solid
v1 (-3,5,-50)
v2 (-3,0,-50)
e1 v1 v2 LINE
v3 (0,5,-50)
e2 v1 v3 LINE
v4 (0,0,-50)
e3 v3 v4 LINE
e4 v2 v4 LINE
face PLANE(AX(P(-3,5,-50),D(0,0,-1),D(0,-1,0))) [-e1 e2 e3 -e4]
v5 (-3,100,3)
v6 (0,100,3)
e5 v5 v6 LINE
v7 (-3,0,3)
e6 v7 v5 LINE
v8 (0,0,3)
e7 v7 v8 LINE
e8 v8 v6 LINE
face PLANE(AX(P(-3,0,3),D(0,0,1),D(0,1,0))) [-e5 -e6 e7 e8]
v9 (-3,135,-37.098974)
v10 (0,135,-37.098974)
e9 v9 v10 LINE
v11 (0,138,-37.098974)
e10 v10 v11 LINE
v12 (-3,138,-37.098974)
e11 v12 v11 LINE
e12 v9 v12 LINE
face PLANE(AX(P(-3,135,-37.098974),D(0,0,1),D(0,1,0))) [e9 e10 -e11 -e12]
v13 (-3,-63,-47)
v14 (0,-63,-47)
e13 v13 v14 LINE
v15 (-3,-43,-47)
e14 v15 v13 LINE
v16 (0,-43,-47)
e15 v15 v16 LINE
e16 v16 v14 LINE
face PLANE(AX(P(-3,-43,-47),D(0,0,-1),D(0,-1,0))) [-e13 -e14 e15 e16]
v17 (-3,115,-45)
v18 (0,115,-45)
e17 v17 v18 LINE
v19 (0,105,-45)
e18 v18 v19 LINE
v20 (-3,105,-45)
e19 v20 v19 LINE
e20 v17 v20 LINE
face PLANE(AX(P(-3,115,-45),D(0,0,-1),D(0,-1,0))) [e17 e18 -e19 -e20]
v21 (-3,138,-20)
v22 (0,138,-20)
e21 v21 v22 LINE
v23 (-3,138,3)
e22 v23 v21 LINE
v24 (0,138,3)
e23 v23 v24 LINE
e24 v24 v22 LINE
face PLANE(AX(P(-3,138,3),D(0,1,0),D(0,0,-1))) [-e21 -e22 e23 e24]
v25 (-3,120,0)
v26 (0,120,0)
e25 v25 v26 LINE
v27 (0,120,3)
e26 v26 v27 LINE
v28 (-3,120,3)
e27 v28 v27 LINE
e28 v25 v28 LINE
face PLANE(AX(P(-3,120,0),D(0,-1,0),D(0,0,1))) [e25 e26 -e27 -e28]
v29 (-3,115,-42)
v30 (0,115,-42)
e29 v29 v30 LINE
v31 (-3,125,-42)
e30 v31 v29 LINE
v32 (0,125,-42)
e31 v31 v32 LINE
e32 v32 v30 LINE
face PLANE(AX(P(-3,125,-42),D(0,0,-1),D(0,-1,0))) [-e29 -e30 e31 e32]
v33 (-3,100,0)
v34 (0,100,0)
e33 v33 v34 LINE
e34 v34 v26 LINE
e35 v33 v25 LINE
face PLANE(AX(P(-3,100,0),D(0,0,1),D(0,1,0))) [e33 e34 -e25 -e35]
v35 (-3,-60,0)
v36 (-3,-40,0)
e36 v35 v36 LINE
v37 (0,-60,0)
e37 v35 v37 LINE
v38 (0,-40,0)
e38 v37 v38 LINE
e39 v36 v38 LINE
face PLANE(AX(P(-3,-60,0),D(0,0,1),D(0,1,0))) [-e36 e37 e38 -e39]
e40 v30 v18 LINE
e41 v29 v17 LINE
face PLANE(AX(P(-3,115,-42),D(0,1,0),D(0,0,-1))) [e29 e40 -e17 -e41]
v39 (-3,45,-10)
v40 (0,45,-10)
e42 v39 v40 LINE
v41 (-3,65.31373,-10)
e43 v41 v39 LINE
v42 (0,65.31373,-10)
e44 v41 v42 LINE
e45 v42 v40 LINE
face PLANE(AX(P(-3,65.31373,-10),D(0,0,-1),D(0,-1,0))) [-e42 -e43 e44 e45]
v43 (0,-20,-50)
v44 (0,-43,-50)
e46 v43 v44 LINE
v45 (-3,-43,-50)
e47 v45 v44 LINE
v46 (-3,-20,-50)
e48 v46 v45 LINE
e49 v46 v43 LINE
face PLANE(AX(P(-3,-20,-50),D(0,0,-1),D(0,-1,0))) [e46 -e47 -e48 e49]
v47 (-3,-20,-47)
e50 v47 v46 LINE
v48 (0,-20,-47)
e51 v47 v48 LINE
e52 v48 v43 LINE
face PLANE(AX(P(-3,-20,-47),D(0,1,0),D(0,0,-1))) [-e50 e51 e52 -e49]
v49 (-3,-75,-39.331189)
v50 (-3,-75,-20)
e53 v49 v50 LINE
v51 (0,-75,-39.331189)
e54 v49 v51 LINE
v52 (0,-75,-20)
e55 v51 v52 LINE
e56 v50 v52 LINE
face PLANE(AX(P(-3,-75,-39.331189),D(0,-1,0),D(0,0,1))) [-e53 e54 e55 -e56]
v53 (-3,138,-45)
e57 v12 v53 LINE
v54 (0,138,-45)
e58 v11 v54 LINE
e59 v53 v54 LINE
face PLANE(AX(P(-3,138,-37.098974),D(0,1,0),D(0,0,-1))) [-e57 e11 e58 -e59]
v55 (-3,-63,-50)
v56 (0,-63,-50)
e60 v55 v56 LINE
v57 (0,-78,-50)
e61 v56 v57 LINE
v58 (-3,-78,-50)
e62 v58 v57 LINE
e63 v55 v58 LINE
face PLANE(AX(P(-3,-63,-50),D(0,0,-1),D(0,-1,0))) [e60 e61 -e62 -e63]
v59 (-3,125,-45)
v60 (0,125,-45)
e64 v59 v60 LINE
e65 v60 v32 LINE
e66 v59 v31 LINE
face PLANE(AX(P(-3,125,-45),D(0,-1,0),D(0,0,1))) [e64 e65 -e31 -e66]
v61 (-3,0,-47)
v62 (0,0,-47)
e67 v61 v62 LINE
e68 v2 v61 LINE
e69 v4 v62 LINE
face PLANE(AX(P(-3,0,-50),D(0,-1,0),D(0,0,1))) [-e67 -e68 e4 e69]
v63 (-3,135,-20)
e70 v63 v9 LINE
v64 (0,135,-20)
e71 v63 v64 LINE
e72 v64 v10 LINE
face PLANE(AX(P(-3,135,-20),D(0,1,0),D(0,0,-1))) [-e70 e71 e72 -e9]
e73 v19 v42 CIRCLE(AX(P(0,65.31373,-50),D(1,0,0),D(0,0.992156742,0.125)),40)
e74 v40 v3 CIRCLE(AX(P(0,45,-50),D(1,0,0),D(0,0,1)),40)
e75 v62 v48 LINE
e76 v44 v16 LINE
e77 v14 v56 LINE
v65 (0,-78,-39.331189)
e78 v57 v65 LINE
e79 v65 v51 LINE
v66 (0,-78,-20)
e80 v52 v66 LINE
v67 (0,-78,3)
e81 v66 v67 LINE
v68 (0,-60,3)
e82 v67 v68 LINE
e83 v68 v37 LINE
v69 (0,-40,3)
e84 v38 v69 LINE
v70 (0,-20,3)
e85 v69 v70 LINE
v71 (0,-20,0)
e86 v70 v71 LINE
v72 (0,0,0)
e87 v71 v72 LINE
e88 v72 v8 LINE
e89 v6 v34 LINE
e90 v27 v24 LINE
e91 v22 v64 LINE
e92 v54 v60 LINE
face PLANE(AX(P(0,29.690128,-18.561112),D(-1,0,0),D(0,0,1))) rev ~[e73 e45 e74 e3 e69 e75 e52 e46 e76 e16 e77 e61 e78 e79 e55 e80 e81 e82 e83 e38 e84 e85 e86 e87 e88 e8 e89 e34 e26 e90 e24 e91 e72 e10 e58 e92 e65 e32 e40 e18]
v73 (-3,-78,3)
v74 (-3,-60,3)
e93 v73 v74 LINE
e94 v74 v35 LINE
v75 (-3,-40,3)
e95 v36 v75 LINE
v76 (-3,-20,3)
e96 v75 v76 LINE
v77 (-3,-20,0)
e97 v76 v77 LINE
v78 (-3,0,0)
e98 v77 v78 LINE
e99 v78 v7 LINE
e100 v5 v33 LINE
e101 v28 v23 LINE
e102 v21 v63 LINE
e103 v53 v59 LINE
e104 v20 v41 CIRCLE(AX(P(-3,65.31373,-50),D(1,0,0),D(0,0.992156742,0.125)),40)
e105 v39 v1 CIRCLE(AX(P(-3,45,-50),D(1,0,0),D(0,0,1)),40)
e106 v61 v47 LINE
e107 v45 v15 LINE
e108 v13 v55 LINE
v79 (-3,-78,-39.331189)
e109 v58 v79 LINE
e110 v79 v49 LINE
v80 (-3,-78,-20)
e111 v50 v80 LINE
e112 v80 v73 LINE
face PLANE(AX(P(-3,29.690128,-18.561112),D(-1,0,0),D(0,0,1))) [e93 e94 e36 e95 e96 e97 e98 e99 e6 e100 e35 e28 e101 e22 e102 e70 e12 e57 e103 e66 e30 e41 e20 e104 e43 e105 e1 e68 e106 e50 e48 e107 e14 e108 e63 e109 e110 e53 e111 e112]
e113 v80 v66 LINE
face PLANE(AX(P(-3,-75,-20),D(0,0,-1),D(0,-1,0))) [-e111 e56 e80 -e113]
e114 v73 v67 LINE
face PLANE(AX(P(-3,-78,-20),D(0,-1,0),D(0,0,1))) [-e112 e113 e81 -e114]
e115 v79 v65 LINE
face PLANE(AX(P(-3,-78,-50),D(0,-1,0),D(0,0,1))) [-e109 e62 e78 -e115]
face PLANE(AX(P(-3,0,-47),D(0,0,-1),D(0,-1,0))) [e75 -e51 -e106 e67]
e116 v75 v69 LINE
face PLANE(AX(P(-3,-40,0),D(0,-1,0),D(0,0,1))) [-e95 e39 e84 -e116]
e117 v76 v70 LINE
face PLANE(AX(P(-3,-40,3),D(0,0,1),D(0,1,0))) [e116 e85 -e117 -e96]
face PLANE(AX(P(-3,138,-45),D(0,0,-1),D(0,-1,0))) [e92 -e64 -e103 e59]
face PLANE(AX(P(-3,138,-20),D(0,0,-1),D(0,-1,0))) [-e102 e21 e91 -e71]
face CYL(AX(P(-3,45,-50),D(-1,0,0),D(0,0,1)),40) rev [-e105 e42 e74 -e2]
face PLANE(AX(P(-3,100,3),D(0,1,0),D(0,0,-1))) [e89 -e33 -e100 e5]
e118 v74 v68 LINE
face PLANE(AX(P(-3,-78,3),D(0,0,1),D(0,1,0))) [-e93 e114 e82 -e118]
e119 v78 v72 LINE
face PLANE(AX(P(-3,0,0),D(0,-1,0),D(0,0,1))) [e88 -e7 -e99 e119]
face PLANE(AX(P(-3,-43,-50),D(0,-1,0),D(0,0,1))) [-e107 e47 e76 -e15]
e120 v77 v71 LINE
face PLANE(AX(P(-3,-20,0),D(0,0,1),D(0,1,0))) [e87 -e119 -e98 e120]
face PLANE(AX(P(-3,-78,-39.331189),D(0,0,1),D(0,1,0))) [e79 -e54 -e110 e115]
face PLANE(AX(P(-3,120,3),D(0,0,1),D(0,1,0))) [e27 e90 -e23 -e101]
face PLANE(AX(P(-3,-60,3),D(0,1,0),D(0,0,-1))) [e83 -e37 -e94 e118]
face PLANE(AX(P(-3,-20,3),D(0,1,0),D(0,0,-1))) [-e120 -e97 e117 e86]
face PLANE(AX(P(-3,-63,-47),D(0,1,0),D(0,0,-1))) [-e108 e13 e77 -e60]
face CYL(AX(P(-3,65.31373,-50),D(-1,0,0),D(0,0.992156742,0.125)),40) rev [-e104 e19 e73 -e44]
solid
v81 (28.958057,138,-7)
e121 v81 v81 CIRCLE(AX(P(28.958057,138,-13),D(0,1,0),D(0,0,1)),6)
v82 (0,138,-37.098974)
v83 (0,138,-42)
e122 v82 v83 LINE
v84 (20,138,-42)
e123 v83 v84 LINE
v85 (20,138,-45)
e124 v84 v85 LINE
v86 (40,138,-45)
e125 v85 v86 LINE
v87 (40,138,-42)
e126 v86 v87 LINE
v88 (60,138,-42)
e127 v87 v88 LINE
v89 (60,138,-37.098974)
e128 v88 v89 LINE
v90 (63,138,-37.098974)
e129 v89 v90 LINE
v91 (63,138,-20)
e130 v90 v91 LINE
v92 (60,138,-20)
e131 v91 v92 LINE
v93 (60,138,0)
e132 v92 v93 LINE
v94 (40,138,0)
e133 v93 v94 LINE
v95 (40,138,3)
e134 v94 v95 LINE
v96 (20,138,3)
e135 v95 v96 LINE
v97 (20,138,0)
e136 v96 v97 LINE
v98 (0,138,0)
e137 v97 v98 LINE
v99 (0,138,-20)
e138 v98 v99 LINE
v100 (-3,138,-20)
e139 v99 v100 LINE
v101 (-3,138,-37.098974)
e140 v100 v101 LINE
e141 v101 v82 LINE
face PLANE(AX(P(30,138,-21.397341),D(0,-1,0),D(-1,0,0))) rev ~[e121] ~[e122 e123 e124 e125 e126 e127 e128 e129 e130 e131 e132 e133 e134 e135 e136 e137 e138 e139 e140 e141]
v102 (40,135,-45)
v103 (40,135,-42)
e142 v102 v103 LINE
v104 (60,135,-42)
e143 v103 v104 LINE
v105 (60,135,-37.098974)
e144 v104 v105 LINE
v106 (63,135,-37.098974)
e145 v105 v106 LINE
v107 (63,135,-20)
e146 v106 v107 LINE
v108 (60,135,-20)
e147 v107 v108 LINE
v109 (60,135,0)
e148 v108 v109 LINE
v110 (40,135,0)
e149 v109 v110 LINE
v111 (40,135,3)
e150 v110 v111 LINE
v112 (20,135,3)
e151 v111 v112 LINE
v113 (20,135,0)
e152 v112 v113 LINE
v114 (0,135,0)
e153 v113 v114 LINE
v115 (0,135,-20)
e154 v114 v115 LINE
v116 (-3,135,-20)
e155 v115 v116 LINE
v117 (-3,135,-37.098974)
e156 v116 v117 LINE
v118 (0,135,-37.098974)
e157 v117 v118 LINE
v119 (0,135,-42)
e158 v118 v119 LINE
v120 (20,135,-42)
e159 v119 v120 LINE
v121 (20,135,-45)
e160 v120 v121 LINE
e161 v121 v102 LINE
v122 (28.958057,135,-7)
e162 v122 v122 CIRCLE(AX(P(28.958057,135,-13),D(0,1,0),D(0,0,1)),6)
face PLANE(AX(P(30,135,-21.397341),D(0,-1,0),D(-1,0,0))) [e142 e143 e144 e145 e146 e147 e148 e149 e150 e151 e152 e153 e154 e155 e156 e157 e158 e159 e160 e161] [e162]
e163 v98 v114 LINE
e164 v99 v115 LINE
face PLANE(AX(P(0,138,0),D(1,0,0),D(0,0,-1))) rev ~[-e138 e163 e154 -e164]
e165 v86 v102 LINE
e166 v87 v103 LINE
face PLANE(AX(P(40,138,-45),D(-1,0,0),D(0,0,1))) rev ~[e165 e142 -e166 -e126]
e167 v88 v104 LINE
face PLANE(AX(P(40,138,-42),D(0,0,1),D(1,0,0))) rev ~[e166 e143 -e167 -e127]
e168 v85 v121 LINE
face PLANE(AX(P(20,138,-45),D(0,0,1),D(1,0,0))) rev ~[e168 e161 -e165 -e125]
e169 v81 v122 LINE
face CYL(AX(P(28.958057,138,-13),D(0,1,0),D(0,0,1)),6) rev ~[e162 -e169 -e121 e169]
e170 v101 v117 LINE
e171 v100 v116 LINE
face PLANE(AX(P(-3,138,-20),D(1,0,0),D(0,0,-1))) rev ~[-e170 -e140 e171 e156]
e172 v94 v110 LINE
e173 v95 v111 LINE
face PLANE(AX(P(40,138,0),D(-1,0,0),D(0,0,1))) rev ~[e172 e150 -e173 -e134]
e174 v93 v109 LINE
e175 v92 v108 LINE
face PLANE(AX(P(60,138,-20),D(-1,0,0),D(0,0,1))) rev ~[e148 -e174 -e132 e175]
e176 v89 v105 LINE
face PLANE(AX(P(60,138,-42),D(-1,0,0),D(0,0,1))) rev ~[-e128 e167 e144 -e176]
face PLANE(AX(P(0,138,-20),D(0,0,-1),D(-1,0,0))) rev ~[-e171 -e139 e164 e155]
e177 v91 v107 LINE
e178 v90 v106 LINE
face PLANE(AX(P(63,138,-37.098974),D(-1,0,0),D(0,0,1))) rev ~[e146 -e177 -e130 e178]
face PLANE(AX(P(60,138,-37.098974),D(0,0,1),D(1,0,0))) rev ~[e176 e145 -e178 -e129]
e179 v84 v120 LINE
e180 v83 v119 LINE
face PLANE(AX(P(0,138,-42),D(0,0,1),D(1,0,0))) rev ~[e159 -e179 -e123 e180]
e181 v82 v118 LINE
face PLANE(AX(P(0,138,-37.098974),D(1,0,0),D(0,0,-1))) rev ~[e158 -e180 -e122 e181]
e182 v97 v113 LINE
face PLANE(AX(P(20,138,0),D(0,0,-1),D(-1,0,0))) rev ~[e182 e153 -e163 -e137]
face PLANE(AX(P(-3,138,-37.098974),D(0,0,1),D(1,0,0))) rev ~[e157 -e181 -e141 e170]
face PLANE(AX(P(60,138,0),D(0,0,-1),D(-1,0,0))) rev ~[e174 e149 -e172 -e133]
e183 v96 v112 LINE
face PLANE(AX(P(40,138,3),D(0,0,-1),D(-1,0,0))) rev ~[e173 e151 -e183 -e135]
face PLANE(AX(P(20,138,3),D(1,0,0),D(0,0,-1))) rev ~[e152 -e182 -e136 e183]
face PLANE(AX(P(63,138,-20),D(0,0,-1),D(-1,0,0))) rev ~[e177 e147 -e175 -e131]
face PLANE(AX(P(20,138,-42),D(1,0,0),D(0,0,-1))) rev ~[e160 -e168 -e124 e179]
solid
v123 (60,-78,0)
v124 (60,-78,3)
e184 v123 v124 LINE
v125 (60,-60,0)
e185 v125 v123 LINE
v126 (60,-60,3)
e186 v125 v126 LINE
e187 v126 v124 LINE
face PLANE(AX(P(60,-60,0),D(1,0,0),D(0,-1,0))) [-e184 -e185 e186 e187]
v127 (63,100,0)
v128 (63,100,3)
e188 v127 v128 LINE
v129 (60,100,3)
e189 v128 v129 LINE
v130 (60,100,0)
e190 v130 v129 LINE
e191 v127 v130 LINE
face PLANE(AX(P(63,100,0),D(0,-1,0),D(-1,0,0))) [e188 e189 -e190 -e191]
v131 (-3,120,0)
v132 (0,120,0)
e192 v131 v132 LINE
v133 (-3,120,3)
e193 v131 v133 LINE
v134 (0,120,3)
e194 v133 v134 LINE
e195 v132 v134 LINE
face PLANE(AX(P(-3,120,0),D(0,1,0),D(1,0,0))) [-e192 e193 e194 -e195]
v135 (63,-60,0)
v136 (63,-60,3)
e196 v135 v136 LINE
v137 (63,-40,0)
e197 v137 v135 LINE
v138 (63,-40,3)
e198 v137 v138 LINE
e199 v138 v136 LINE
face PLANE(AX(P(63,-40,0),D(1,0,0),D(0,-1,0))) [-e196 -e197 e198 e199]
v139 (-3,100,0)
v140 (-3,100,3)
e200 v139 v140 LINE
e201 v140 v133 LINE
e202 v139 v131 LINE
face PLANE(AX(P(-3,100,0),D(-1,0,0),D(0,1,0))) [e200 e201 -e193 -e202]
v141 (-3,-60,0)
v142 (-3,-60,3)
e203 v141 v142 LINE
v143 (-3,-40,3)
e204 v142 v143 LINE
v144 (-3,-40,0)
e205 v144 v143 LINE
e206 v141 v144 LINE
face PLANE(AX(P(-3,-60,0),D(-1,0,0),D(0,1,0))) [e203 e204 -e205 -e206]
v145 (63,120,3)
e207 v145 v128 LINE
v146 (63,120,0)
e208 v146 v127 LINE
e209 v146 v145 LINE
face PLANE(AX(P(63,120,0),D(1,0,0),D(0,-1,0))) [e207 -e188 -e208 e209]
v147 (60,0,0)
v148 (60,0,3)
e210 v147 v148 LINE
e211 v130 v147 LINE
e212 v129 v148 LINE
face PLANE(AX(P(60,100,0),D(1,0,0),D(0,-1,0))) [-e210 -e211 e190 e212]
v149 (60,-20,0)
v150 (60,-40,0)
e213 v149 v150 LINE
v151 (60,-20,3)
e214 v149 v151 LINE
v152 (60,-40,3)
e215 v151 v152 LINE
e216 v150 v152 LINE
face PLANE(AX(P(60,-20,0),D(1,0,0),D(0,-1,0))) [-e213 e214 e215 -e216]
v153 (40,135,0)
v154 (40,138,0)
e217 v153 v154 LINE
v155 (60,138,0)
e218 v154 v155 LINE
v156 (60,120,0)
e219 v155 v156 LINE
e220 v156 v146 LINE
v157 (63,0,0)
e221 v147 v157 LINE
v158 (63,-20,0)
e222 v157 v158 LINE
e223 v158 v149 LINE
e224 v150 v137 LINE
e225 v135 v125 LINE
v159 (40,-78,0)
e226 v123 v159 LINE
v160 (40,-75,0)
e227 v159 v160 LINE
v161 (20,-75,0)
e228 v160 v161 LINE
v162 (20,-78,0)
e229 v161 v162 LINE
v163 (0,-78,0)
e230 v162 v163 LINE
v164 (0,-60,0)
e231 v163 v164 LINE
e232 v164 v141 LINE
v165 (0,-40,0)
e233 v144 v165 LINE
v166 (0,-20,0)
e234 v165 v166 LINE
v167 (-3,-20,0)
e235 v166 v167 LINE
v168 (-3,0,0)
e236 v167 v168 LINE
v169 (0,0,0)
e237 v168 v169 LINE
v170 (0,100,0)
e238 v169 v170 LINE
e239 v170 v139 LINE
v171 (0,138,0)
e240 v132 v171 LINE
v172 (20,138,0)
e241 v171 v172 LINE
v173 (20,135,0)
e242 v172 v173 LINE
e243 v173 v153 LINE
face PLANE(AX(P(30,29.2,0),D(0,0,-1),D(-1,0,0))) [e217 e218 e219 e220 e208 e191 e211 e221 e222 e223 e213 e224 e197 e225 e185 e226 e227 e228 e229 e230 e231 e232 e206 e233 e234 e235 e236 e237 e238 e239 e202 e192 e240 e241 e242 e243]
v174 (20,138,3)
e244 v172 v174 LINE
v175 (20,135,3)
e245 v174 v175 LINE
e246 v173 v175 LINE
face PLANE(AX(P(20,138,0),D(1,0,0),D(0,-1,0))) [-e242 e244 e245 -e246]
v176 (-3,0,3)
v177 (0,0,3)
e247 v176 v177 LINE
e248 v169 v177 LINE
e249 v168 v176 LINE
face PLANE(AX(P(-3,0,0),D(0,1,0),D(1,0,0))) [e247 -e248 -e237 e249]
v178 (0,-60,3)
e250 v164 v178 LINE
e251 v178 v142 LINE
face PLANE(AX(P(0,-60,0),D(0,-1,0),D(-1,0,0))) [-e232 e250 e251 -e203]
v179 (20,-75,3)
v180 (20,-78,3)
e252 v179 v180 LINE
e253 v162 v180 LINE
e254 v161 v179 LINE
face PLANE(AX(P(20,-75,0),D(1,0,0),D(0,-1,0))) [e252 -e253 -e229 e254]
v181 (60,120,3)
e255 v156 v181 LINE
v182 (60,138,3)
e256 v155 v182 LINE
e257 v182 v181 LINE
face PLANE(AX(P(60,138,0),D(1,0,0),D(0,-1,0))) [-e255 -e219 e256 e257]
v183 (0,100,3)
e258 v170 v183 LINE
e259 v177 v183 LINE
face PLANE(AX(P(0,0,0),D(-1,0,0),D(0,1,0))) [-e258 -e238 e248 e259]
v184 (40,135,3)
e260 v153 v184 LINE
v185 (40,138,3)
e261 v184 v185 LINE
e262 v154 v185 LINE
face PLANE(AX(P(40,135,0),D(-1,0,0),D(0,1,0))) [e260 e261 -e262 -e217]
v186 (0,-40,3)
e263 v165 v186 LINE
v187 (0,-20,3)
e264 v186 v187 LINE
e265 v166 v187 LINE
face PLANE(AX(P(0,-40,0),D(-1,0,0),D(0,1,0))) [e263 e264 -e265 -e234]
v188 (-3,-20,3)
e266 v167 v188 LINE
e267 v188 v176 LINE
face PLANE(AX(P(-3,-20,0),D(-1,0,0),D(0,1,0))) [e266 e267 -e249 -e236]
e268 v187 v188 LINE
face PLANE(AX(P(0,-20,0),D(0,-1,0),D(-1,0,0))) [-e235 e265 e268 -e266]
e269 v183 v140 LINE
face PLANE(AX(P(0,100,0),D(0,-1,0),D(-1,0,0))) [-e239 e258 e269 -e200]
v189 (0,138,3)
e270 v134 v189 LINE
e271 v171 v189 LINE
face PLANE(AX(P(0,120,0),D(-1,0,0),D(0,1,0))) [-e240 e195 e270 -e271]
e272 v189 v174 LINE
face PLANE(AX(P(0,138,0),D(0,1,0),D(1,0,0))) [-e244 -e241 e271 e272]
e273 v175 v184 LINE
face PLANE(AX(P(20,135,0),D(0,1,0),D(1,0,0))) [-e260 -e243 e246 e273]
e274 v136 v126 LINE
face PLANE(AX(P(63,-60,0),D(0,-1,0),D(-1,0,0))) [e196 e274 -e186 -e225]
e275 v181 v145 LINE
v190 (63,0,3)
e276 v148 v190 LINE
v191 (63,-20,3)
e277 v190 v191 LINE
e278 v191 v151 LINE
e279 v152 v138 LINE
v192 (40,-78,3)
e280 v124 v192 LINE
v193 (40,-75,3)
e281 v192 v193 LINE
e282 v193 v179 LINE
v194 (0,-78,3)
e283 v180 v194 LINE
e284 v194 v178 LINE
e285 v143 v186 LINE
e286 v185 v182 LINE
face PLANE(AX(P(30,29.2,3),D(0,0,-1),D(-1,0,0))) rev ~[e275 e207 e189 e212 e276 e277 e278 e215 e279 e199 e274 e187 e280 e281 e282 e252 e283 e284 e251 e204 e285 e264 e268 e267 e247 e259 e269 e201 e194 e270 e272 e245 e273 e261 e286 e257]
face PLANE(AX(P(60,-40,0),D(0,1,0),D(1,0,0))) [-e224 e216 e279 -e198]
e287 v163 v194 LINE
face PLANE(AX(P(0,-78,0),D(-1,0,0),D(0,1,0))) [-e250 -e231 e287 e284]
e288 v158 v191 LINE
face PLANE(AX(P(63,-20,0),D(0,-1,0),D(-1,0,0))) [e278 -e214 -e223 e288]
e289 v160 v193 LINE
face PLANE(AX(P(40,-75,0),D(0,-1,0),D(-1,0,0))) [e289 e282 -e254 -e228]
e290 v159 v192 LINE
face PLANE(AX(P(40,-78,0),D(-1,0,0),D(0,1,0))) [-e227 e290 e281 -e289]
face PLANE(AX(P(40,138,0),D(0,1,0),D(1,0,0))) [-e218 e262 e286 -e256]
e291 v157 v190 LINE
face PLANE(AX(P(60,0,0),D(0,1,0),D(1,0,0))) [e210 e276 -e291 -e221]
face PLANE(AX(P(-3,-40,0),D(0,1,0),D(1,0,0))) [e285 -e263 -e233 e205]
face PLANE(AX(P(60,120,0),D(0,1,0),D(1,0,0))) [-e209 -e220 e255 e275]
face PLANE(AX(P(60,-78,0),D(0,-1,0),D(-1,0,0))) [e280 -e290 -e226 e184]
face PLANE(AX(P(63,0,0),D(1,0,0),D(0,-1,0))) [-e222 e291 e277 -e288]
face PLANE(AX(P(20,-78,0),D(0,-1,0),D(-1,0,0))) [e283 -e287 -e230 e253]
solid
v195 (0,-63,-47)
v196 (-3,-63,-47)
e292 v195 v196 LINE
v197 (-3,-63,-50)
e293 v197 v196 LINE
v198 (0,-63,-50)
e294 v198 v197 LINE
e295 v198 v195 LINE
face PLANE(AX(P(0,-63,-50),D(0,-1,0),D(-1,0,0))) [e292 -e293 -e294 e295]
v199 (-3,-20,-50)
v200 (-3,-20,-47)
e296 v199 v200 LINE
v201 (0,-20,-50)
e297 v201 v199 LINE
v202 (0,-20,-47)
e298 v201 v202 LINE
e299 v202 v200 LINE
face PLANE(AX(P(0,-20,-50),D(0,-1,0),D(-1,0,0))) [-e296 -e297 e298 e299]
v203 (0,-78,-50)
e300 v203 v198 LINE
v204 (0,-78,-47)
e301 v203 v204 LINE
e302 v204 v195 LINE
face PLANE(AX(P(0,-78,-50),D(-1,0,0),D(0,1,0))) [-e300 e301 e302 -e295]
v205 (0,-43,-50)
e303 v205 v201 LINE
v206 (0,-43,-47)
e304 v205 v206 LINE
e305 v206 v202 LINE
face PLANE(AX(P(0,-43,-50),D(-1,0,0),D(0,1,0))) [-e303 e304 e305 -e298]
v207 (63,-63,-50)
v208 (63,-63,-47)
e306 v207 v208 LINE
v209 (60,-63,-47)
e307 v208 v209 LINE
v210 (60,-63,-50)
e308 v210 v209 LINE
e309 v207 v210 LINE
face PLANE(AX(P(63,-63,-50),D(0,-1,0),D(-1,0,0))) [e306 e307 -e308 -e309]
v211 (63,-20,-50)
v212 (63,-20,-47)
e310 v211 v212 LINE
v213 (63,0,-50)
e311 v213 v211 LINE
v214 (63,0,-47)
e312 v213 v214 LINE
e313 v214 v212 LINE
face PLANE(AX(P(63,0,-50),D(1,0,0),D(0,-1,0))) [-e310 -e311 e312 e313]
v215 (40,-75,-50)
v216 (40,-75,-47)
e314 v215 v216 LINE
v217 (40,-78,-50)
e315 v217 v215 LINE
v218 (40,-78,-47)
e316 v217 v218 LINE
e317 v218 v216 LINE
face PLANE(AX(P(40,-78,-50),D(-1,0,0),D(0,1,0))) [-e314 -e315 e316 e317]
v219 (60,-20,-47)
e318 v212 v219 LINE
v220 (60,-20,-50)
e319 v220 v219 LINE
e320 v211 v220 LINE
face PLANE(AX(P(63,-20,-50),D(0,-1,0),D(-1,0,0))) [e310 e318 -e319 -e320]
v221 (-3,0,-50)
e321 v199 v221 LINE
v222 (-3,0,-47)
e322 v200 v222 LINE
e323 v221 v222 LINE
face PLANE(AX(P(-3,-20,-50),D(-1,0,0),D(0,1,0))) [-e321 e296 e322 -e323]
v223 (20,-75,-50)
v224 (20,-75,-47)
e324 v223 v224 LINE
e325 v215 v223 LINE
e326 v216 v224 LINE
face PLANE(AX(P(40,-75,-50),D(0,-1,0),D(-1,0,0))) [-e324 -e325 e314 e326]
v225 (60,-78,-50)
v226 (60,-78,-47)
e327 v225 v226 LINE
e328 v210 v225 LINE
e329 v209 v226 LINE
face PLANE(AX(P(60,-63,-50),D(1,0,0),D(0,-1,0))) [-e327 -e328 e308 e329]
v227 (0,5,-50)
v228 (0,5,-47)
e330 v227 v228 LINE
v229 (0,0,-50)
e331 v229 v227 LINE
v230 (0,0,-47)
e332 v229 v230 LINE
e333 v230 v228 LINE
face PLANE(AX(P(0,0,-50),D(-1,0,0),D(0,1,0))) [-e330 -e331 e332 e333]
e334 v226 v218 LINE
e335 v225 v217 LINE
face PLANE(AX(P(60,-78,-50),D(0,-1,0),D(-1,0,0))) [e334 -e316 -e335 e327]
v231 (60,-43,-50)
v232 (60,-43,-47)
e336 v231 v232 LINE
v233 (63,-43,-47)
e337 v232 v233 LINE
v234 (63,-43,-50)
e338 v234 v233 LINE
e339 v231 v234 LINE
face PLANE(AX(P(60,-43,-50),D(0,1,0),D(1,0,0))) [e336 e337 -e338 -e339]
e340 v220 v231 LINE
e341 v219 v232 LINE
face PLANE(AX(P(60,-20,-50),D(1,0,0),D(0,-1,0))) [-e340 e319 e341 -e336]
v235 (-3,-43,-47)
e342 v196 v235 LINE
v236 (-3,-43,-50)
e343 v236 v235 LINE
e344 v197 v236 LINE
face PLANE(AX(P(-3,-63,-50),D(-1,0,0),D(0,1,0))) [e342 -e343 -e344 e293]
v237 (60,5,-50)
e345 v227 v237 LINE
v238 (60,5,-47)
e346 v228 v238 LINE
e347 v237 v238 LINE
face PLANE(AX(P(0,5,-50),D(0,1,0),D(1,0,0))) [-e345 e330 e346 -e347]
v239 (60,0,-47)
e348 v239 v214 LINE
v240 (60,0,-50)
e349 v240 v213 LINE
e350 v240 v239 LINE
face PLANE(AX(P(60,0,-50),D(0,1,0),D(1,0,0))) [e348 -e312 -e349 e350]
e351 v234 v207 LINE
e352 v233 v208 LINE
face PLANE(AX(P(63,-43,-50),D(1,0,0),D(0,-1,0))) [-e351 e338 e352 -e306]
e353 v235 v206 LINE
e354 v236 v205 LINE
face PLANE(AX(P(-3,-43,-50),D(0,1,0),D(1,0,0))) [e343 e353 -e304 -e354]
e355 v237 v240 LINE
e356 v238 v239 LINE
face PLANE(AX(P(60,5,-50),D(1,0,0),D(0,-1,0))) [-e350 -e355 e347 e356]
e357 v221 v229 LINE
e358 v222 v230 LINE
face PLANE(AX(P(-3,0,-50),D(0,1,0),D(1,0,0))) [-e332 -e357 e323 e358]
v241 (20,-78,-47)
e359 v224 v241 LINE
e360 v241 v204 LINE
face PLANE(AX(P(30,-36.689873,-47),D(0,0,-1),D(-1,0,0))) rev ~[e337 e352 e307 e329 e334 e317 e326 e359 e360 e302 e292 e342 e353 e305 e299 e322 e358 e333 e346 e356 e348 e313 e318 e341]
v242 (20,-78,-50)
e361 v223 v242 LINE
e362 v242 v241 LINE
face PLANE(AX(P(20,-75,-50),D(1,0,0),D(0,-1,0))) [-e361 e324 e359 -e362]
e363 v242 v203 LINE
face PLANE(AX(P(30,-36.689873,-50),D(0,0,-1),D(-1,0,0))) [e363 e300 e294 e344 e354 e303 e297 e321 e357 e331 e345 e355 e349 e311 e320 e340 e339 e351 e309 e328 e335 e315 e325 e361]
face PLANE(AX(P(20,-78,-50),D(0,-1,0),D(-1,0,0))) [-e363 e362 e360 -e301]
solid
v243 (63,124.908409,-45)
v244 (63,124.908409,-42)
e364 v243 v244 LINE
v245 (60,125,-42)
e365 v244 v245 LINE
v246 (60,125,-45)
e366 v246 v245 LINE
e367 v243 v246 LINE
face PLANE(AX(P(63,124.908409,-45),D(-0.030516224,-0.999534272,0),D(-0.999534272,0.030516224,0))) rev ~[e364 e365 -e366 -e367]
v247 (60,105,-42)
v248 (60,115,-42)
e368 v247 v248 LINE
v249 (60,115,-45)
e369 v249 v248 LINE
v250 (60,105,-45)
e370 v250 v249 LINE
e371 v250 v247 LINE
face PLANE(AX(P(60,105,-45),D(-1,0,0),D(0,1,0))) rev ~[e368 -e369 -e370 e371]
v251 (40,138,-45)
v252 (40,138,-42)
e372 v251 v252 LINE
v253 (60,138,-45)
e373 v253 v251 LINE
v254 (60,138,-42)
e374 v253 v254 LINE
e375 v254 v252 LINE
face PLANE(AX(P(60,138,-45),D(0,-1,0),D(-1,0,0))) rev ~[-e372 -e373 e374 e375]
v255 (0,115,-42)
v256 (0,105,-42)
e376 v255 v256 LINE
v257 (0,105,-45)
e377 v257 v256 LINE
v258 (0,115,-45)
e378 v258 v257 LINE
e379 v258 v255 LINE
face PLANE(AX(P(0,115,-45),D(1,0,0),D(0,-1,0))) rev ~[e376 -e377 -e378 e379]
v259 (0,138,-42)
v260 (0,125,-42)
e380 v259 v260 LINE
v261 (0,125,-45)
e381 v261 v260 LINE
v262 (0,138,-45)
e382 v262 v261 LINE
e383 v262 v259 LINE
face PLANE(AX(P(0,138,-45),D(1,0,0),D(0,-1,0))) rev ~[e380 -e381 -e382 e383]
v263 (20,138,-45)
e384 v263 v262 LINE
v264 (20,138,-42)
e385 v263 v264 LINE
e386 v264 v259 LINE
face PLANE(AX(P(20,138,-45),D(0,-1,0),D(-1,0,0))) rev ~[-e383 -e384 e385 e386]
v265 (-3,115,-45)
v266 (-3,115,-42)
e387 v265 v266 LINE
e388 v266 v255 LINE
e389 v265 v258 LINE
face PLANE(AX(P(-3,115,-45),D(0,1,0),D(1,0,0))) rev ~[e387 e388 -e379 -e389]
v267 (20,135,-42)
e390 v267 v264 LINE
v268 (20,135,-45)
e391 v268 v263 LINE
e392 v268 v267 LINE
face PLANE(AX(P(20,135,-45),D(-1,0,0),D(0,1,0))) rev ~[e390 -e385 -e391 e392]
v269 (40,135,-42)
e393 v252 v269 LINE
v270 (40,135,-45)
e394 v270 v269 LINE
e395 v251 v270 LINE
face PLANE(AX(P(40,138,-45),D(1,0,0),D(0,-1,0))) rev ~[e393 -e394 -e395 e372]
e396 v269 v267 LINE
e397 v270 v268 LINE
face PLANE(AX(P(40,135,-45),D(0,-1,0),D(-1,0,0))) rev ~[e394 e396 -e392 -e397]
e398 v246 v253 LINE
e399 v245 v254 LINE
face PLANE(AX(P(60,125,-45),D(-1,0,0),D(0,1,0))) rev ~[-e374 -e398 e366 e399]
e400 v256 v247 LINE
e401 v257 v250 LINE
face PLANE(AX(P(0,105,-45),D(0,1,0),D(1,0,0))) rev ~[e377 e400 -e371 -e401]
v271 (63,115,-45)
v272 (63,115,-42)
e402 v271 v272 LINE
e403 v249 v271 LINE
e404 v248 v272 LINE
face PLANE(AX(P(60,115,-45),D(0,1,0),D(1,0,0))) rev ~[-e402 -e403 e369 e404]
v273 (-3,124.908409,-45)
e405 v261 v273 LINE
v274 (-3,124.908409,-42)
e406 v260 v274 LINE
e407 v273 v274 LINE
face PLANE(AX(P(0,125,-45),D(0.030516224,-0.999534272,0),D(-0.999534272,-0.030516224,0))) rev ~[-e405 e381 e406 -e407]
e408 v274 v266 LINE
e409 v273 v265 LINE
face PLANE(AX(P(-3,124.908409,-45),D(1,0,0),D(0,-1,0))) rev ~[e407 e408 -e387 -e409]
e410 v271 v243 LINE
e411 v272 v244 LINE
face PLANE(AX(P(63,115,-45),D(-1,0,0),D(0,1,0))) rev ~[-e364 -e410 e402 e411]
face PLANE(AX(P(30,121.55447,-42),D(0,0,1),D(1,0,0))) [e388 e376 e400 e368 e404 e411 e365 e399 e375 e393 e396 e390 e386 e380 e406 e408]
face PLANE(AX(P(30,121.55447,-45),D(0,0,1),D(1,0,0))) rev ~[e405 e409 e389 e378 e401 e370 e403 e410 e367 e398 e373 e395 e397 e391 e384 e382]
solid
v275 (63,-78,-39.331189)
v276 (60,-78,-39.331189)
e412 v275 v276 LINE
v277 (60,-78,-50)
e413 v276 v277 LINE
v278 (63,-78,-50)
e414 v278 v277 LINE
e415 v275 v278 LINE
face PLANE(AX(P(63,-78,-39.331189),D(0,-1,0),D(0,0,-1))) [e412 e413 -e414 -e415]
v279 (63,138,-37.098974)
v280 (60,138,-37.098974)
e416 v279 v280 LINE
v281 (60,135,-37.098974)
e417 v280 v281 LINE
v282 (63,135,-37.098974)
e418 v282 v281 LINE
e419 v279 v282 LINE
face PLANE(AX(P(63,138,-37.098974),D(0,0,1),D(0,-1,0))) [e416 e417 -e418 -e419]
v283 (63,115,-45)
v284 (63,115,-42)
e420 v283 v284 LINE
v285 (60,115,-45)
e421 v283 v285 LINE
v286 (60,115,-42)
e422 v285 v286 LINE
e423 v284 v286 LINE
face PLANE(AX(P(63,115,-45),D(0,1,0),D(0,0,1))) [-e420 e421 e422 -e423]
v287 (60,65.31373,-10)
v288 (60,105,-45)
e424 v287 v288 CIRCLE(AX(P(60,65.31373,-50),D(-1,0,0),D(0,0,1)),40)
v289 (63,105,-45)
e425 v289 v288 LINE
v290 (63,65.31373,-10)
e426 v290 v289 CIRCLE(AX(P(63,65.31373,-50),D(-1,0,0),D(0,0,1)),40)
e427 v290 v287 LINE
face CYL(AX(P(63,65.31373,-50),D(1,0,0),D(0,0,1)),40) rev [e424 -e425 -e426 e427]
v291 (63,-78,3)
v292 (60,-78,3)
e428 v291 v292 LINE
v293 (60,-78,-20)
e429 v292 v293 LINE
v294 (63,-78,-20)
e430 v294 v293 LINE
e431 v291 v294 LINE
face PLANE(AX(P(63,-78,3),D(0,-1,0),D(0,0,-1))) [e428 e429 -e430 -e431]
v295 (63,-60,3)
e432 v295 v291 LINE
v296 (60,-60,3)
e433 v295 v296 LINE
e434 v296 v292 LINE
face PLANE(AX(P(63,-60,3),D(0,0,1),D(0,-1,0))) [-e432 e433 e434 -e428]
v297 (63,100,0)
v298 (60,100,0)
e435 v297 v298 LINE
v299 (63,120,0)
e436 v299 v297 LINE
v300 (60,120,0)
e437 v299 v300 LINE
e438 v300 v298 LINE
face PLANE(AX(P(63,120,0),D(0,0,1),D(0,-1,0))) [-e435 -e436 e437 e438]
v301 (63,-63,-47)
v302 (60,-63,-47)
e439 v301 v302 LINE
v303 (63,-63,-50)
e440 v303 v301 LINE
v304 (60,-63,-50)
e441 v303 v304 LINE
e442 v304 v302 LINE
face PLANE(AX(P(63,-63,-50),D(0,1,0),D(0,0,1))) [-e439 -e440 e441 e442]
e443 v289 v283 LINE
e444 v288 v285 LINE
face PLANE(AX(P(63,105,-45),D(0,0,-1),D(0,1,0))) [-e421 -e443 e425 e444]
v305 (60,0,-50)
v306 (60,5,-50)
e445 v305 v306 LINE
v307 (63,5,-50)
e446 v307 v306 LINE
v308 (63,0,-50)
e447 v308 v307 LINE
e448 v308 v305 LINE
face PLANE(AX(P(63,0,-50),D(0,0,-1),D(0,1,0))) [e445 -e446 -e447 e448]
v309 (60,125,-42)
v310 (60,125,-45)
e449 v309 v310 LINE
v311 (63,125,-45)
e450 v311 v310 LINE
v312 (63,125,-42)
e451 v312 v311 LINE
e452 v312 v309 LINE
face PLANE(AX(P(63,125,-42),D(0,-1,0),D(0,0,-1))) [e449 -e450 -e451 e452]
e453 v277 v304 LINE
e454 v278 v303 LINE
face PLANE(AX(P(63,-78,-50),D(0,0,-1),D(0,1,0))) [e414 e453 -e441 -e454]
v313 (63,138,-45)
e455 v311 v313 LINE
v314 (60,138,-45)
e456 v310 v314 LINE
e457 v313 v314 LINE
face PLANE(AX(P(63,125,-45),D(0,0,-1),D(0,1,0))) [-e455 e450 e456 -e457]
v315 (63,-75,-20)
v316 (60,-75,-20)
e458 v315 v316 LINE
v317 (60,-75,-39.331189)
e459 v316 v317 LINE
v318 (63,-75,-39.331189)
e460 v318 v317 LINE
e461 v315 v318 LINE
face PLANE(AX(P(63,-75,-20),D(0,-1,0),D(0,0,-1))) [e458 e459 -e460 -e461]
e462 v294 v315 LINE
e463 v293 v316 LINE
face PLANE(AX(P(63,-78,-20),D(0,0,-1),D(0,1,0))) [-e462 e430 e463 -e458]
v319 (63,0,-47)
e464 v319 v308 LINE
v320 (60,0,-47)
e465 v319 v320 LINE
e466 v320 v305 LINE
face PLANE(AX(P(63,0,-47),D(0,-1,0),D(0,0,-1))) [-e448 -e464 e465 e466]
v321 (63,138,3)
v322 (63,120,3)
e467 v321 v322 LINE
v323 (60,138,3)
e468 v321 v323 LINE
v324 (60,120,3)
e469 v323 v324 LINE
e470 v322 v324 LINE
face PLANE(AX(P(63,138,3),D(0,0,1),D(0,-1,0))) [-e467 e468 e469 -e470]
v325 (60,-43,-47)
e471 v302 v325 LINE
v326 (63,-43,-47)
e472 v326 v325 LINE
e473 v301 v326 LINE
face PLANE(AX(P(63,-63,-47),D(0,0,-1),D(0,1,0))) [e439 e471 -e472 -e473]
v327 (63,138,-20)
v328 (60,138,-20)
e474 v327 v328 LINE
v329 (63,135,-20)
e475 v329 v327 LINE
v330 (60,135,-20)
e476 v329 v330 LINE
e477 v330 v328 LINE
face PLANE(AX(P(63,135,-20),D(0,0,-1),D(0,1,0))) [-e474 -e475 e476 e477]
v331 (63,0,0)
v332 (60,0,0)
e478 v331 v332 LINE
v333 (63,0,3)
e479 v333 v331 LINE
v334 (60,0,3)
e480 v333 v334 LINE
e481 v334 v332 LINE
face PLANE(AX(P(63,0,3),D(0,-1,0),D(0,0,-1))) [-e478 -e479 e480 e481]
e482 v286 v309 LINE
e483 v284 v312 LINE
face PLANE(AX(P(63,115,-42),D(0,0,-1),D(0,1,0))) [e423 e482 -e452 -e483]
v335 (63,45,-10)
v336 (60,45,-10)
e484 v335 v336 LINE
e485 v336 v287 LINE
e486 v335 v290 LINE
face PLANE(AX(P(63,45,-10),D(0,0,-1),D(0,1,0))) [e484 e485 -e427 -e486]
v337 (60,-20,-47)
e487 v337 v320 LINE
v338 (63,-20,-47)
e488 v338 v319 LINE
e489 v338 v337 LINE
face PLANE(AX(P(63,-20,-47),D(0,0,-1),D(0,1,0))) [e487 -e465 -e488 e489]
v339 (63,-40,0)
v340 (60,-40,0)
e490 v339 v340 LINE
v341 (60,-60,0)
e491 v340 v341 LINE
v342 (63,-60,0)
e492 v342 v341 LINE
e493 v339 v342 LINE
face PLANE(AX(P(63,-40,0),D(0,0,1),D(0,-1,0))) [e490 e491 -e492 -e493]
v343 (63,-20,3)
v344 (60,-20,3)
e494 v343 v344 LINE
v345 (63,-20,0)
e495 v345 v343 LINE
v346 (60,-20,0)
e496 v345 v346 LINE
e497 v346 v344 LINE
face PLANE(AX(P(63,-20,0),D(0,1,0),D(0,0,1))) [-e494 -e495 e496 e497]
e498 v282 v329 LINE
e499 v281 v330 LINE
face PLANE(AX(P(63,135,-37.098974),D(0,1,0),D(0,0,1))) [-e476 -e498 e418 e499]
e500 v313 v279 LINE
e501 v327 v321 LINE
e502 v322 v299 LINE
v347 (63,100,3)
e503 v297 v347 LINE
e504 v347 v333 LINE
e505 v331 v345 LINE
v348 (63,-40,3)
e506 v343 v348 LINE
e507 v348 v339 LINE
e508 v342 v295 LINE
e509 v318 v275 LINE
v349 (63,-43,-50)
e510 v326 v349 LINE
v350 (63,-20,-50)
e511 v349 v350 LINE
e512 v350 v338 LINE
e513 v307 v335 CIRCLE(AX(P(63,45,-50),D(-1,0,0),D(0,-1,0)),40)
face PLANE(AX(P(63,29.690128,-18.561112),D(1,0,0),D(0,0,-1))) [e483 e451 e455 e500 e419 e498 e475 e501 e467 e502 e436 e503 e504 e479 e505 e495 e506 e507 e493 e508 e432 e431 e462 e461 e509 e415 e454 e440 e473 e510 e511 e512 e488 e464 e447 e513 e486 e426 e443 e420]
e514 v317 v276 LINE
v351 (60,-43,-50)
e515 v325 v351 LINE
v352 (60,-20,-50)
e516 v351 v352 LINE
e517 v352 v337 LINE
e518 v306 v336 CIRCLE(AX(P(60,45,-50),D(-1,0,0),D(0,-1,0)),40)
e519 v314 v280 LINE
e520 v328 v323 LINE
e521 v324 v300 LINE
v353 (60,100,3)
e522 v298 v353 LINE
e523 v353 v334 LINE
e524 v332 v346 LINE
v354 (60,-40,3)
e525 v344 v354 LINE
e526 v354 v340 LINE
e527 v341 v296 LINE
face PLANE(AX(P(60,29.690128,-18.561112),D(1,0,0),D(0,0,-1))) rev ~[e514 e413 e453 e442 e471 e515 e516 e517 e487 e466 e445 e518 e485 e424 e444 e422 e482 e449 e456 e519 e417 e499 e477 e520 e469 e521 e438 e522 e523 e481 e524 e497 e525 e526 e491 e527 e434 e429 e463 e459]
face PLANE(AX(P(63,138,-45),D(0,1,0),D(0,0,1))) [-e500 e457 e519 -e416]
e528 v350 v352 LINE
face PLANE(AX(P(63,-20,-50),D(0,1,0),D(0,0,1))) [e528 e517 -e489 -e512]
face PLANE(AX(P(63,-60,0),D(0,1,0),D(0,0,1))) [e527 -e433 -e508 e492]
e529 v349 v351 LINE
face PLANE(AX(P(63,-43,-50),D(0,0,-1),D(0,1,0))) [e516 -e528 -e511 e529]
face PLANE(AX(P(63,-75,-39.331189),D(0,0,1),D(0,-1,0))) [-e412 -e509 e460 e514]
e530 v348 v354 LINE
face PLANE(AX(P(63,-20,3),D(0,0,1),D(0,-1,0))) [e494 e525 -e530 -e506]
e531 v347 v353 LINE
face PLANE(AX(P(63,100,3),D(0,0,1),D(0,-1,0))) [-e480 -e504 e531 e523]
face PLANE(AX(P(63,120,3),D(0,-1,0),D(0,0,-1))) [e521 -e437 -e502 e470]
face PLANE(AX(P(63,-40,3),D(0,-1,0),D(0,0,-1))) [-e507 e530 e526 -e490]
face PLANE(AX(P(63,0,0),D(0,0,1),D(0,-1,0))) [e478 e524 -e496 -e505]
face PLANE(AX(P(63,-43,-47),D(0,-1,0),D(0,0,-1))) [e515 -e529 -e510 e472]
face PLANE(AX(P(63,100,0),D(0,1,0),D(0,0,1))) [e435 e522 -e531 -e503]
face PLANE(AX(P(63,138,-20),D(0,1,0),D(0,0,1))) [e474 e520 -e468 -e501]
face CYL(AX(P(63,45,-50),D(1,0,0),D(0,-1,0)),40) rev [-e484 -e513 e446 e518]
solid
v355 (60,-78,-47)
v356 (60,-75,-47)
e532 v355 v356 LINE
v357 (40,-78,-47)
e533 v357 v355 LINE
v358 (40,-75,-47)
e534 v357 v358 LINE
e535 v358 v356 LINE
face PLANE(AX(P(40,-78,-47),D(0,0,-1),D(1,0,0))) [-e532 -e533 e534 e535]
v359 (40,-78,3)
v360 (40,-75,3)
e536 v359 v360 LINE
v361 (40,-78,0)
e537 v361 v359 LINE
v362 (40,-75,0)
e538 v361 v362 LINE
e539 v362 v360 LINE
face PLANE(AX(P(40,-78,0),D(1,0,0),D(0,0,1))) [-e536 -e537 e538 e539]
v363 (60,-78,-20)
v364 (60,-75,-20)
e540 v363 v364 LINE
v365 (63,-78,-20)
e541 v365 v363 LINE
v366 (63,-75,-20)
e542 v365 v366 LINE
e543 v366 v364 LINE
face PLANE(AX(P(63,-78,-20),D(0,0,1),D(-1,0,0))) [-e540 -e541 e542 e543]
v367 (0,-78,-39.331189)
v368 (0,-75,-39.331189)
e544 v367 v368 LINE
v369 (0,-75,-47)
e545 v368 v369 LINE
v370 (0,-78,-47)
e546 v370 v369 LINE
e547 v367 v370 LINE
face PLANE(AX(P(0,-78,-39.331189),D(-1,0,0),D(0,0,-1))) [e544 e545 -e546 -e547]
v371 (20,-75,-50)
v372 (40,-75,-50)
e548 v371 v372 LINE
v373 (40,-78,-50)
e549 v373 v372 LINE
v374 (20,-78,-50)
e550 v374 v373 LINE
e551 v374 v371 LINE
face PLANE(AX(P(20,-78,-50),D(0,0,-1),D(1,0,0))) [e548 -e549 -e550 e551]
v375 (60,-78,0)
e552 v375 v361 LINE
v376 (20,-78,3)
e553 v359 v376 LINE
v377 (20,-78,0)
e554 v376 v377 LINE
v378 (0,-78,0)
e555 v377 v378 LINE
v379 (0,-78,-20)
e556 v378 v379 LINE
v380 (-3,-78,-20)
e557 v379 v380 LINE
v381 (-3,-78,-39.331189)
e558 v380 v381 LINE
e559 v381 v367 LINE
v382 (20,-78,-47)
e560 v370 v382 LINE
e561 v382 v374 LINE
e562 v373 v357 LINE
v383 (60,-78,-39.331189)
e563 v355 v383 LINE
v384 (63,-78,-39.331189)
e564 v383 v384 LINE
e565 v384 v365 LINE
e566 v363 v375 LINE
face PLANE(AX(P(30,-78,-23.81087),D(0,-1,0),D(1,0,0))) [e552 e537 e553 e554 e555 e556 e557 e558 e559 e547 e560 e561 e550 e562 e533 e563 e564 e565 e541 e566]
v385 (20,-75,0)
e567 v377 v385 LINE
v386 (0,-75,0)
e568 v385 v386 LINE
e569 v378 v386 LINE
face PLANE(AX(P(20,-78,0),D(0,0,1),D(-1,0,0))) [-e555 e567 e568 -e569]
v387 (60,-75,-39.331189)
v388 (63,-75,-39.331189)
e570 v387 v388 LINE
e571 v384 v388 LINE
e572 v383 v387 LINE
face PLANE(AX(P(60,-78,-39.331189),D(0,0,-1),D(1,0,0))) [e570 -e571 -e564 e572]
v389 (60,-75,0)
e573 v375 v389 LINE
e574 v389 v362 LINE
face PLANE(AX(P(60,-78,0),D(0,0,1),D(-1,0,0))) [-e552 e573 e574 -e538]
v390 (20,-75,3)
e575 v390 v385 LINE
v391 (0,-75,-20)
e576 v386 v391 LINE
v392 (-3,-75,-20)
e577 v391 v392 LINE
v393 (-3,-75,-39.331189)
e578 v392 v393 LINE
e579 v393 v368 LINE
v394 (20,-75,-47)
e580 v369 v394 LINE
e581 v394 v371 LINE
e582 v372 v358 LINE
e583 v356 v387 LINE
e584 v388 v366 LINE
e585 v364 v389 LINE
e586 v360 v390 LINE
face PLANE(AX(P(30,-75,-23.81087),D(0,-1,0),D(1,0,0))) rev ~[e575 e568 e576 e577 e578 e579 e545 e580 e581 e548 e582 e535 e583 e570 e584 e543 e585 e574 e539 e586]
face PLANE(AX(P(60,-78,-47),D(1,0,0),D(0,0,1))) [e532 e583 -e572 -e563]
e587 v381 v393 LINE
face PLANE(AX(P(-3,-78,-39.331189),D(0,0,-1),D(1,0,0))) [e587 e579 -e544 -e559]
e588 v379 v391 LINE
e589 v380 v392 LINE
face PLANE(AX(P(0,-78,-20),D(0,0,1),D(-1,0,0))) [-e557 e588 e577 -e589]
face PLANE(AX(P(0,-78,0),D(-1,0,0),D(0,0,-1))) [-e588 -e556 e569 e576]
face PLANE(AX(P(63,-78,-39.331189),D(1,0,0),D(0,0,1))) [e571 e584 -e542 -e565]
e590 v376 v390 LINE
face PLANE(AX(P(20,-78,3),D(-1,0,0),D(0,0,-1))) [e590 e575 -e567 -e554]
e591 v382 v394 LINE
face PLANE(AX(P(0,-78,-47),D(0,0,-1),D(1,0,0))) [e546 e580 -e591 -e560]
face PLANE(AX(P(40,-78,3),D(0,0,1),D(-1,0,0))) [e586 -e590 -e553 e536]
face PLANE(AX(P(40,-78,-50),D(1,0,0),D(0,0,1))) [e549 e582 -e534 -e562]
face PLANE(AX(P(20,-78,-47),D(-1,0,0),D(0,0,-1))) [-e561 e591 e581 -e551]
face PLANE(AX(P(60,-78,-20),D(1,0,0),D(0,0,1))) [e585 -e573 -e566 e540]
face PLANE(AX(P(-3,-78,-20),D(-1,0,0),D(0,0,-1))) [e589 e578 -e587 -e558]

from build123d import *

# Parameters (mm, degrees)
BOSS_EXTRUDE1_DEPTH = 3
BOSS_EXTRUDE2_DEPTH = 3
SKETCH3_R           = 6
BOSS_EXTRUDE3_DEPTH = 3
BOSS_EXTRUDE4_DEPTH = 3
BOSS_EXTRUDE5_DEPTH = 3
BOSS_EXTRUDE6_DEPTH = 3
BOSS_EXTRUDE8_DEPTH = 3


with BuildPart() as part:
    # Sketch1 → Boss-Extrude1 (new body)
    with BuildSketch(Plane.XY):
        Polygon((0, 0), (0, 100), (-3, 100), (-3, 120), (0, 120), (0, 138), (20, 138), (20, 135), (40, 135), (40, 138), (60, 138), (60, 120), (63, 120), (63, 100), (60, 100), (60, 0), (63, 0), (63, -20), (60, -20), (60, -40), (63, -40), (63, -60), (60, -60), (60, -78), (40, -78), (40, -75), (20, -75), (20, -78), (0, -78), (0, -60), (-3, -60), (-3, -40), (0, -40), (0, -20), (-3, -20), (-3, 0), align=None)
    extrude(amount=BOSS_EXTRUDE1_DEPTH)


with BuildPart() as body_2:
    # Sketch2 → Boss-Extrude2 (new body)
    with BuildSketch(Plane(origin=(63, 0, 0), x_dir=(0, 0, -1), z_dir=(1, 0, 0))):
        with BuildLine():
            Line((45, 138), (37.098973903, 138))
            Line((37.098973903, 138), (37.098973903, 135))
            Line((37.098973903, 135), (20, 135))
            Line((20, 135), (20, 138))
            Line((20, 138), (-3, 138))
            Line((-3, 138), (-3, 120))
            Line((-3, 120), (0, 120))
            Line((0, 120), (0, 100))
            Line((0, 100), (-3, 100))
            Line((-3, 100), (-3, 0))
            Line((-3, 0), (0, 0))
            Line((0, 0), (0, -20))
            Line((0, -20), (-3, -20))
            Line((-3, -20), (-3, -40))
            Line((-3, -40), (0, -40))
            Line((0, -40), (0, -60))
            Line((0, -60), (-3, -60))
            Line((-3, -60), (-3, -78))
            Line((-3, -78), (20, -78))
            Line((20, -78), (20, -75))
            Line((20, -75), (39.331188529, -75))
            Line((39.331188529, -75), (39.331188529, -78))
            Line((39.331188529, -78), (50, -78))
            Line((50, -78), (50, -63))
            Line((50, -63), (47, -63))
            Line((47, -63), (47, -43))
            Line((47, -43), (50, -43))
            Line((50, -43), (50, -20))
            Line((50, -20), (47, -20))
            Line((47, -20), (47, 0))
            Line((47, 0), (50, 0))
            Line((50, 0), (50, 5))
            ThreePointArc((50, 5), (21.715728753, 16.715728753), (10, 45))
            Line((10, 45), (10, 65.313730334))
            ThreePointArc((10, 65.313730334), (20, 91.771243445), (45, 105))
            Line((45, 105), (45, 115))
            Line((45, 115), (42, 115))
            Line((42, 115), (42, 125))
            Line((42, 125), (45, 125))
            Line((45, 125), (45, 138))
        make_face()
    extrude(amount=-BOSS_EXTRUDE2_DEPTH)


with BuildPart() as body_3:
    # Sketch3 → Boss-Extrude3 (new body)
    with BuildSketch(Plane(origin=(0, 138, 0), x_dir=(1, 0, 0), z_dir=(0, 1, 0))):
        Polygon((60, 37.098973903), (63, 37.098973903), (63, 20), (60, 20), (60, 0), (40, 0), (40, -3), (20, -3), (20, 0), (0, 0), (0, 20), (-3, 20), (-3, 37.098973903), (0, 37.098973903), (0, 42), (20, 42), (20, 45), (40, 45), (40, 42), (60, 42), align=None)
        with Locations(Location((28.958057159, 13, 0), (0, 0, 270))):
            Circle(SKETCH3_R, mode=Mode.SUBTRACT)
    extrude(amount=-BOSS_EXTRUDE3_DEPTH)


with BuildPart() as body_4:
    # Sketch4 → Boss-Extrude4 (new body)
    with BuildSketch(Plane(origin=(0, 0, -45), x_dir=(-1, 0, 0), z_dir=(0, 0, -1))):
        Polygon((-63, 124.908408672), (-60, 125), (-60, 138), (-40, 138), (-40, 135), (-20, 135), (-20, 138), (0, 138), (0, 125), (3, 124.908408672), (3, 115), (0, 115), (0, 105), (-60, 105), (-60, 115), (-63, 115), align=None)
    extrude(amount=-BOSS_EXTRUDE4_DEPTH)


with BuildPart() as body_5:
    # Sketch5 → Boss-Extrude5 (new body)
    with BuildSketch(Plane(origin=(0, 0, -50), x_dir=(-1, 0, 0), z_dir=(0, 0, -1))):
        Polygon((-60, 5), (-60, 0), (-63, 0), (-63, -20), (-60, -20), (-60, -43), (-63, -43), (-63, -63), (-60, -63), (-60, -78), (-40, -78), (-40, -75), (-20, -75), (-20, -78), (0, -78), (0, -63), (3, -63), (3, -43), (0, -43), (0, -20), (3, -20), (3, 0), (0, 0), (0, 5), align=None)
    extrude(amount=-BOSS_EXTRUDE5_DEPTH)


with BuildPart() as body_6:
    # Sketch6 → Boss-Extrude6 (new body)
    with BuildSketch(Plane.XZ.offset(78)):
        Polygon((40, -50), (40, -47), (60, -47), (60, -39.331188529), (63, -39.331188529), (63, -20), (60, -20), (60, 0), (40, 0), (40, 3), (20, 3), (20, 0), (0, 0), (0, -20), (-3, -20), (-3, -39.331188529), (0, -39.331188529), (0, -47), (20, -47), (20, -50), align=None)
    extrude(amount=-BOSS_EXTRUDE6_DEPTH)


with BuildPart() as body_7:
    # Sketch7 → Boss-Extrude8 (new body)
    with BuildSketch(Plane.ZY.offset(3)):
        with BuildLine():
            Line((3, 138), (-20, 138))
            Line((-20, 138), (-20, 135))
            Line((-20, 135), (-37.098973903, 135))
            Line((-37.098973903, 135), (-37.098973903, 138))
            Line((-37.098973903, 138), (-45, 138))
            Line((-45, 138), (-45, 125))
            Line((-45, 125), (-42, 125))
            Line((-42, 125), (-42, 115))
            Line((-42, 115), (-45, 115))
            Line((-45, 115), (-45, 105))
            ThreePointArc((-45, 105), (-20, 91.771243445), (-10, 65.313730334))
            Line((-10, 65.313730334), (-10, 45))
            ThreePointArc((-10, 45), (-21.715728753, 16.715728753), (-50, 5))
            Line((-50, 5), (-50, 0))
            Line((-50, 0), (-47, 0))
            Line((-47, 0), (-47, -20))
            Line((-47, -20), (-50, -20))
            Line((-50, -20), (-50, -43))
            Line((-50, -43), (-47, -43))
            Line((-47, -43), (-47, -63))
            Line((-47, -63), (-50, -63))
            Line((-50, -63), (-50, -78))
            Line((-50, -78), (-39.331188529, -78))
            Line((-39.331188529, -78), (-39.331188529, -75))
            Line((-39.331188529, -75), (-20, -75))
            Line((-20, -75), (-20, -78))
            Line((-20, -78), (3, -78))
            Line((3, -78), (3, -60))
            Line((3, -60), (0, -60))
            Line((0, -60), (0, -40))
            Line((0, -40), (3, -40))
            Line((3, -40), (3, -20))
            Line((3, -20), (0, -20))
            Line((0, -20), (0, 0))
            Line((0, 0), (3, 0))
            Line((3, 0), (3, 100))
            Line((3, 100), (0, 100))
            Line((0, 100), (0, 120))
            Line((0, 120), (3, 120))
            Line((3, 120), (3, 138))
        make_face()
    extrude(amount=-BOSS_EXTRUDE8_DEPTH)


solid = Compound([part.part, body_2.part, body_3.part, body_4.part, body_5.part, body_6.part, body_7.part])
